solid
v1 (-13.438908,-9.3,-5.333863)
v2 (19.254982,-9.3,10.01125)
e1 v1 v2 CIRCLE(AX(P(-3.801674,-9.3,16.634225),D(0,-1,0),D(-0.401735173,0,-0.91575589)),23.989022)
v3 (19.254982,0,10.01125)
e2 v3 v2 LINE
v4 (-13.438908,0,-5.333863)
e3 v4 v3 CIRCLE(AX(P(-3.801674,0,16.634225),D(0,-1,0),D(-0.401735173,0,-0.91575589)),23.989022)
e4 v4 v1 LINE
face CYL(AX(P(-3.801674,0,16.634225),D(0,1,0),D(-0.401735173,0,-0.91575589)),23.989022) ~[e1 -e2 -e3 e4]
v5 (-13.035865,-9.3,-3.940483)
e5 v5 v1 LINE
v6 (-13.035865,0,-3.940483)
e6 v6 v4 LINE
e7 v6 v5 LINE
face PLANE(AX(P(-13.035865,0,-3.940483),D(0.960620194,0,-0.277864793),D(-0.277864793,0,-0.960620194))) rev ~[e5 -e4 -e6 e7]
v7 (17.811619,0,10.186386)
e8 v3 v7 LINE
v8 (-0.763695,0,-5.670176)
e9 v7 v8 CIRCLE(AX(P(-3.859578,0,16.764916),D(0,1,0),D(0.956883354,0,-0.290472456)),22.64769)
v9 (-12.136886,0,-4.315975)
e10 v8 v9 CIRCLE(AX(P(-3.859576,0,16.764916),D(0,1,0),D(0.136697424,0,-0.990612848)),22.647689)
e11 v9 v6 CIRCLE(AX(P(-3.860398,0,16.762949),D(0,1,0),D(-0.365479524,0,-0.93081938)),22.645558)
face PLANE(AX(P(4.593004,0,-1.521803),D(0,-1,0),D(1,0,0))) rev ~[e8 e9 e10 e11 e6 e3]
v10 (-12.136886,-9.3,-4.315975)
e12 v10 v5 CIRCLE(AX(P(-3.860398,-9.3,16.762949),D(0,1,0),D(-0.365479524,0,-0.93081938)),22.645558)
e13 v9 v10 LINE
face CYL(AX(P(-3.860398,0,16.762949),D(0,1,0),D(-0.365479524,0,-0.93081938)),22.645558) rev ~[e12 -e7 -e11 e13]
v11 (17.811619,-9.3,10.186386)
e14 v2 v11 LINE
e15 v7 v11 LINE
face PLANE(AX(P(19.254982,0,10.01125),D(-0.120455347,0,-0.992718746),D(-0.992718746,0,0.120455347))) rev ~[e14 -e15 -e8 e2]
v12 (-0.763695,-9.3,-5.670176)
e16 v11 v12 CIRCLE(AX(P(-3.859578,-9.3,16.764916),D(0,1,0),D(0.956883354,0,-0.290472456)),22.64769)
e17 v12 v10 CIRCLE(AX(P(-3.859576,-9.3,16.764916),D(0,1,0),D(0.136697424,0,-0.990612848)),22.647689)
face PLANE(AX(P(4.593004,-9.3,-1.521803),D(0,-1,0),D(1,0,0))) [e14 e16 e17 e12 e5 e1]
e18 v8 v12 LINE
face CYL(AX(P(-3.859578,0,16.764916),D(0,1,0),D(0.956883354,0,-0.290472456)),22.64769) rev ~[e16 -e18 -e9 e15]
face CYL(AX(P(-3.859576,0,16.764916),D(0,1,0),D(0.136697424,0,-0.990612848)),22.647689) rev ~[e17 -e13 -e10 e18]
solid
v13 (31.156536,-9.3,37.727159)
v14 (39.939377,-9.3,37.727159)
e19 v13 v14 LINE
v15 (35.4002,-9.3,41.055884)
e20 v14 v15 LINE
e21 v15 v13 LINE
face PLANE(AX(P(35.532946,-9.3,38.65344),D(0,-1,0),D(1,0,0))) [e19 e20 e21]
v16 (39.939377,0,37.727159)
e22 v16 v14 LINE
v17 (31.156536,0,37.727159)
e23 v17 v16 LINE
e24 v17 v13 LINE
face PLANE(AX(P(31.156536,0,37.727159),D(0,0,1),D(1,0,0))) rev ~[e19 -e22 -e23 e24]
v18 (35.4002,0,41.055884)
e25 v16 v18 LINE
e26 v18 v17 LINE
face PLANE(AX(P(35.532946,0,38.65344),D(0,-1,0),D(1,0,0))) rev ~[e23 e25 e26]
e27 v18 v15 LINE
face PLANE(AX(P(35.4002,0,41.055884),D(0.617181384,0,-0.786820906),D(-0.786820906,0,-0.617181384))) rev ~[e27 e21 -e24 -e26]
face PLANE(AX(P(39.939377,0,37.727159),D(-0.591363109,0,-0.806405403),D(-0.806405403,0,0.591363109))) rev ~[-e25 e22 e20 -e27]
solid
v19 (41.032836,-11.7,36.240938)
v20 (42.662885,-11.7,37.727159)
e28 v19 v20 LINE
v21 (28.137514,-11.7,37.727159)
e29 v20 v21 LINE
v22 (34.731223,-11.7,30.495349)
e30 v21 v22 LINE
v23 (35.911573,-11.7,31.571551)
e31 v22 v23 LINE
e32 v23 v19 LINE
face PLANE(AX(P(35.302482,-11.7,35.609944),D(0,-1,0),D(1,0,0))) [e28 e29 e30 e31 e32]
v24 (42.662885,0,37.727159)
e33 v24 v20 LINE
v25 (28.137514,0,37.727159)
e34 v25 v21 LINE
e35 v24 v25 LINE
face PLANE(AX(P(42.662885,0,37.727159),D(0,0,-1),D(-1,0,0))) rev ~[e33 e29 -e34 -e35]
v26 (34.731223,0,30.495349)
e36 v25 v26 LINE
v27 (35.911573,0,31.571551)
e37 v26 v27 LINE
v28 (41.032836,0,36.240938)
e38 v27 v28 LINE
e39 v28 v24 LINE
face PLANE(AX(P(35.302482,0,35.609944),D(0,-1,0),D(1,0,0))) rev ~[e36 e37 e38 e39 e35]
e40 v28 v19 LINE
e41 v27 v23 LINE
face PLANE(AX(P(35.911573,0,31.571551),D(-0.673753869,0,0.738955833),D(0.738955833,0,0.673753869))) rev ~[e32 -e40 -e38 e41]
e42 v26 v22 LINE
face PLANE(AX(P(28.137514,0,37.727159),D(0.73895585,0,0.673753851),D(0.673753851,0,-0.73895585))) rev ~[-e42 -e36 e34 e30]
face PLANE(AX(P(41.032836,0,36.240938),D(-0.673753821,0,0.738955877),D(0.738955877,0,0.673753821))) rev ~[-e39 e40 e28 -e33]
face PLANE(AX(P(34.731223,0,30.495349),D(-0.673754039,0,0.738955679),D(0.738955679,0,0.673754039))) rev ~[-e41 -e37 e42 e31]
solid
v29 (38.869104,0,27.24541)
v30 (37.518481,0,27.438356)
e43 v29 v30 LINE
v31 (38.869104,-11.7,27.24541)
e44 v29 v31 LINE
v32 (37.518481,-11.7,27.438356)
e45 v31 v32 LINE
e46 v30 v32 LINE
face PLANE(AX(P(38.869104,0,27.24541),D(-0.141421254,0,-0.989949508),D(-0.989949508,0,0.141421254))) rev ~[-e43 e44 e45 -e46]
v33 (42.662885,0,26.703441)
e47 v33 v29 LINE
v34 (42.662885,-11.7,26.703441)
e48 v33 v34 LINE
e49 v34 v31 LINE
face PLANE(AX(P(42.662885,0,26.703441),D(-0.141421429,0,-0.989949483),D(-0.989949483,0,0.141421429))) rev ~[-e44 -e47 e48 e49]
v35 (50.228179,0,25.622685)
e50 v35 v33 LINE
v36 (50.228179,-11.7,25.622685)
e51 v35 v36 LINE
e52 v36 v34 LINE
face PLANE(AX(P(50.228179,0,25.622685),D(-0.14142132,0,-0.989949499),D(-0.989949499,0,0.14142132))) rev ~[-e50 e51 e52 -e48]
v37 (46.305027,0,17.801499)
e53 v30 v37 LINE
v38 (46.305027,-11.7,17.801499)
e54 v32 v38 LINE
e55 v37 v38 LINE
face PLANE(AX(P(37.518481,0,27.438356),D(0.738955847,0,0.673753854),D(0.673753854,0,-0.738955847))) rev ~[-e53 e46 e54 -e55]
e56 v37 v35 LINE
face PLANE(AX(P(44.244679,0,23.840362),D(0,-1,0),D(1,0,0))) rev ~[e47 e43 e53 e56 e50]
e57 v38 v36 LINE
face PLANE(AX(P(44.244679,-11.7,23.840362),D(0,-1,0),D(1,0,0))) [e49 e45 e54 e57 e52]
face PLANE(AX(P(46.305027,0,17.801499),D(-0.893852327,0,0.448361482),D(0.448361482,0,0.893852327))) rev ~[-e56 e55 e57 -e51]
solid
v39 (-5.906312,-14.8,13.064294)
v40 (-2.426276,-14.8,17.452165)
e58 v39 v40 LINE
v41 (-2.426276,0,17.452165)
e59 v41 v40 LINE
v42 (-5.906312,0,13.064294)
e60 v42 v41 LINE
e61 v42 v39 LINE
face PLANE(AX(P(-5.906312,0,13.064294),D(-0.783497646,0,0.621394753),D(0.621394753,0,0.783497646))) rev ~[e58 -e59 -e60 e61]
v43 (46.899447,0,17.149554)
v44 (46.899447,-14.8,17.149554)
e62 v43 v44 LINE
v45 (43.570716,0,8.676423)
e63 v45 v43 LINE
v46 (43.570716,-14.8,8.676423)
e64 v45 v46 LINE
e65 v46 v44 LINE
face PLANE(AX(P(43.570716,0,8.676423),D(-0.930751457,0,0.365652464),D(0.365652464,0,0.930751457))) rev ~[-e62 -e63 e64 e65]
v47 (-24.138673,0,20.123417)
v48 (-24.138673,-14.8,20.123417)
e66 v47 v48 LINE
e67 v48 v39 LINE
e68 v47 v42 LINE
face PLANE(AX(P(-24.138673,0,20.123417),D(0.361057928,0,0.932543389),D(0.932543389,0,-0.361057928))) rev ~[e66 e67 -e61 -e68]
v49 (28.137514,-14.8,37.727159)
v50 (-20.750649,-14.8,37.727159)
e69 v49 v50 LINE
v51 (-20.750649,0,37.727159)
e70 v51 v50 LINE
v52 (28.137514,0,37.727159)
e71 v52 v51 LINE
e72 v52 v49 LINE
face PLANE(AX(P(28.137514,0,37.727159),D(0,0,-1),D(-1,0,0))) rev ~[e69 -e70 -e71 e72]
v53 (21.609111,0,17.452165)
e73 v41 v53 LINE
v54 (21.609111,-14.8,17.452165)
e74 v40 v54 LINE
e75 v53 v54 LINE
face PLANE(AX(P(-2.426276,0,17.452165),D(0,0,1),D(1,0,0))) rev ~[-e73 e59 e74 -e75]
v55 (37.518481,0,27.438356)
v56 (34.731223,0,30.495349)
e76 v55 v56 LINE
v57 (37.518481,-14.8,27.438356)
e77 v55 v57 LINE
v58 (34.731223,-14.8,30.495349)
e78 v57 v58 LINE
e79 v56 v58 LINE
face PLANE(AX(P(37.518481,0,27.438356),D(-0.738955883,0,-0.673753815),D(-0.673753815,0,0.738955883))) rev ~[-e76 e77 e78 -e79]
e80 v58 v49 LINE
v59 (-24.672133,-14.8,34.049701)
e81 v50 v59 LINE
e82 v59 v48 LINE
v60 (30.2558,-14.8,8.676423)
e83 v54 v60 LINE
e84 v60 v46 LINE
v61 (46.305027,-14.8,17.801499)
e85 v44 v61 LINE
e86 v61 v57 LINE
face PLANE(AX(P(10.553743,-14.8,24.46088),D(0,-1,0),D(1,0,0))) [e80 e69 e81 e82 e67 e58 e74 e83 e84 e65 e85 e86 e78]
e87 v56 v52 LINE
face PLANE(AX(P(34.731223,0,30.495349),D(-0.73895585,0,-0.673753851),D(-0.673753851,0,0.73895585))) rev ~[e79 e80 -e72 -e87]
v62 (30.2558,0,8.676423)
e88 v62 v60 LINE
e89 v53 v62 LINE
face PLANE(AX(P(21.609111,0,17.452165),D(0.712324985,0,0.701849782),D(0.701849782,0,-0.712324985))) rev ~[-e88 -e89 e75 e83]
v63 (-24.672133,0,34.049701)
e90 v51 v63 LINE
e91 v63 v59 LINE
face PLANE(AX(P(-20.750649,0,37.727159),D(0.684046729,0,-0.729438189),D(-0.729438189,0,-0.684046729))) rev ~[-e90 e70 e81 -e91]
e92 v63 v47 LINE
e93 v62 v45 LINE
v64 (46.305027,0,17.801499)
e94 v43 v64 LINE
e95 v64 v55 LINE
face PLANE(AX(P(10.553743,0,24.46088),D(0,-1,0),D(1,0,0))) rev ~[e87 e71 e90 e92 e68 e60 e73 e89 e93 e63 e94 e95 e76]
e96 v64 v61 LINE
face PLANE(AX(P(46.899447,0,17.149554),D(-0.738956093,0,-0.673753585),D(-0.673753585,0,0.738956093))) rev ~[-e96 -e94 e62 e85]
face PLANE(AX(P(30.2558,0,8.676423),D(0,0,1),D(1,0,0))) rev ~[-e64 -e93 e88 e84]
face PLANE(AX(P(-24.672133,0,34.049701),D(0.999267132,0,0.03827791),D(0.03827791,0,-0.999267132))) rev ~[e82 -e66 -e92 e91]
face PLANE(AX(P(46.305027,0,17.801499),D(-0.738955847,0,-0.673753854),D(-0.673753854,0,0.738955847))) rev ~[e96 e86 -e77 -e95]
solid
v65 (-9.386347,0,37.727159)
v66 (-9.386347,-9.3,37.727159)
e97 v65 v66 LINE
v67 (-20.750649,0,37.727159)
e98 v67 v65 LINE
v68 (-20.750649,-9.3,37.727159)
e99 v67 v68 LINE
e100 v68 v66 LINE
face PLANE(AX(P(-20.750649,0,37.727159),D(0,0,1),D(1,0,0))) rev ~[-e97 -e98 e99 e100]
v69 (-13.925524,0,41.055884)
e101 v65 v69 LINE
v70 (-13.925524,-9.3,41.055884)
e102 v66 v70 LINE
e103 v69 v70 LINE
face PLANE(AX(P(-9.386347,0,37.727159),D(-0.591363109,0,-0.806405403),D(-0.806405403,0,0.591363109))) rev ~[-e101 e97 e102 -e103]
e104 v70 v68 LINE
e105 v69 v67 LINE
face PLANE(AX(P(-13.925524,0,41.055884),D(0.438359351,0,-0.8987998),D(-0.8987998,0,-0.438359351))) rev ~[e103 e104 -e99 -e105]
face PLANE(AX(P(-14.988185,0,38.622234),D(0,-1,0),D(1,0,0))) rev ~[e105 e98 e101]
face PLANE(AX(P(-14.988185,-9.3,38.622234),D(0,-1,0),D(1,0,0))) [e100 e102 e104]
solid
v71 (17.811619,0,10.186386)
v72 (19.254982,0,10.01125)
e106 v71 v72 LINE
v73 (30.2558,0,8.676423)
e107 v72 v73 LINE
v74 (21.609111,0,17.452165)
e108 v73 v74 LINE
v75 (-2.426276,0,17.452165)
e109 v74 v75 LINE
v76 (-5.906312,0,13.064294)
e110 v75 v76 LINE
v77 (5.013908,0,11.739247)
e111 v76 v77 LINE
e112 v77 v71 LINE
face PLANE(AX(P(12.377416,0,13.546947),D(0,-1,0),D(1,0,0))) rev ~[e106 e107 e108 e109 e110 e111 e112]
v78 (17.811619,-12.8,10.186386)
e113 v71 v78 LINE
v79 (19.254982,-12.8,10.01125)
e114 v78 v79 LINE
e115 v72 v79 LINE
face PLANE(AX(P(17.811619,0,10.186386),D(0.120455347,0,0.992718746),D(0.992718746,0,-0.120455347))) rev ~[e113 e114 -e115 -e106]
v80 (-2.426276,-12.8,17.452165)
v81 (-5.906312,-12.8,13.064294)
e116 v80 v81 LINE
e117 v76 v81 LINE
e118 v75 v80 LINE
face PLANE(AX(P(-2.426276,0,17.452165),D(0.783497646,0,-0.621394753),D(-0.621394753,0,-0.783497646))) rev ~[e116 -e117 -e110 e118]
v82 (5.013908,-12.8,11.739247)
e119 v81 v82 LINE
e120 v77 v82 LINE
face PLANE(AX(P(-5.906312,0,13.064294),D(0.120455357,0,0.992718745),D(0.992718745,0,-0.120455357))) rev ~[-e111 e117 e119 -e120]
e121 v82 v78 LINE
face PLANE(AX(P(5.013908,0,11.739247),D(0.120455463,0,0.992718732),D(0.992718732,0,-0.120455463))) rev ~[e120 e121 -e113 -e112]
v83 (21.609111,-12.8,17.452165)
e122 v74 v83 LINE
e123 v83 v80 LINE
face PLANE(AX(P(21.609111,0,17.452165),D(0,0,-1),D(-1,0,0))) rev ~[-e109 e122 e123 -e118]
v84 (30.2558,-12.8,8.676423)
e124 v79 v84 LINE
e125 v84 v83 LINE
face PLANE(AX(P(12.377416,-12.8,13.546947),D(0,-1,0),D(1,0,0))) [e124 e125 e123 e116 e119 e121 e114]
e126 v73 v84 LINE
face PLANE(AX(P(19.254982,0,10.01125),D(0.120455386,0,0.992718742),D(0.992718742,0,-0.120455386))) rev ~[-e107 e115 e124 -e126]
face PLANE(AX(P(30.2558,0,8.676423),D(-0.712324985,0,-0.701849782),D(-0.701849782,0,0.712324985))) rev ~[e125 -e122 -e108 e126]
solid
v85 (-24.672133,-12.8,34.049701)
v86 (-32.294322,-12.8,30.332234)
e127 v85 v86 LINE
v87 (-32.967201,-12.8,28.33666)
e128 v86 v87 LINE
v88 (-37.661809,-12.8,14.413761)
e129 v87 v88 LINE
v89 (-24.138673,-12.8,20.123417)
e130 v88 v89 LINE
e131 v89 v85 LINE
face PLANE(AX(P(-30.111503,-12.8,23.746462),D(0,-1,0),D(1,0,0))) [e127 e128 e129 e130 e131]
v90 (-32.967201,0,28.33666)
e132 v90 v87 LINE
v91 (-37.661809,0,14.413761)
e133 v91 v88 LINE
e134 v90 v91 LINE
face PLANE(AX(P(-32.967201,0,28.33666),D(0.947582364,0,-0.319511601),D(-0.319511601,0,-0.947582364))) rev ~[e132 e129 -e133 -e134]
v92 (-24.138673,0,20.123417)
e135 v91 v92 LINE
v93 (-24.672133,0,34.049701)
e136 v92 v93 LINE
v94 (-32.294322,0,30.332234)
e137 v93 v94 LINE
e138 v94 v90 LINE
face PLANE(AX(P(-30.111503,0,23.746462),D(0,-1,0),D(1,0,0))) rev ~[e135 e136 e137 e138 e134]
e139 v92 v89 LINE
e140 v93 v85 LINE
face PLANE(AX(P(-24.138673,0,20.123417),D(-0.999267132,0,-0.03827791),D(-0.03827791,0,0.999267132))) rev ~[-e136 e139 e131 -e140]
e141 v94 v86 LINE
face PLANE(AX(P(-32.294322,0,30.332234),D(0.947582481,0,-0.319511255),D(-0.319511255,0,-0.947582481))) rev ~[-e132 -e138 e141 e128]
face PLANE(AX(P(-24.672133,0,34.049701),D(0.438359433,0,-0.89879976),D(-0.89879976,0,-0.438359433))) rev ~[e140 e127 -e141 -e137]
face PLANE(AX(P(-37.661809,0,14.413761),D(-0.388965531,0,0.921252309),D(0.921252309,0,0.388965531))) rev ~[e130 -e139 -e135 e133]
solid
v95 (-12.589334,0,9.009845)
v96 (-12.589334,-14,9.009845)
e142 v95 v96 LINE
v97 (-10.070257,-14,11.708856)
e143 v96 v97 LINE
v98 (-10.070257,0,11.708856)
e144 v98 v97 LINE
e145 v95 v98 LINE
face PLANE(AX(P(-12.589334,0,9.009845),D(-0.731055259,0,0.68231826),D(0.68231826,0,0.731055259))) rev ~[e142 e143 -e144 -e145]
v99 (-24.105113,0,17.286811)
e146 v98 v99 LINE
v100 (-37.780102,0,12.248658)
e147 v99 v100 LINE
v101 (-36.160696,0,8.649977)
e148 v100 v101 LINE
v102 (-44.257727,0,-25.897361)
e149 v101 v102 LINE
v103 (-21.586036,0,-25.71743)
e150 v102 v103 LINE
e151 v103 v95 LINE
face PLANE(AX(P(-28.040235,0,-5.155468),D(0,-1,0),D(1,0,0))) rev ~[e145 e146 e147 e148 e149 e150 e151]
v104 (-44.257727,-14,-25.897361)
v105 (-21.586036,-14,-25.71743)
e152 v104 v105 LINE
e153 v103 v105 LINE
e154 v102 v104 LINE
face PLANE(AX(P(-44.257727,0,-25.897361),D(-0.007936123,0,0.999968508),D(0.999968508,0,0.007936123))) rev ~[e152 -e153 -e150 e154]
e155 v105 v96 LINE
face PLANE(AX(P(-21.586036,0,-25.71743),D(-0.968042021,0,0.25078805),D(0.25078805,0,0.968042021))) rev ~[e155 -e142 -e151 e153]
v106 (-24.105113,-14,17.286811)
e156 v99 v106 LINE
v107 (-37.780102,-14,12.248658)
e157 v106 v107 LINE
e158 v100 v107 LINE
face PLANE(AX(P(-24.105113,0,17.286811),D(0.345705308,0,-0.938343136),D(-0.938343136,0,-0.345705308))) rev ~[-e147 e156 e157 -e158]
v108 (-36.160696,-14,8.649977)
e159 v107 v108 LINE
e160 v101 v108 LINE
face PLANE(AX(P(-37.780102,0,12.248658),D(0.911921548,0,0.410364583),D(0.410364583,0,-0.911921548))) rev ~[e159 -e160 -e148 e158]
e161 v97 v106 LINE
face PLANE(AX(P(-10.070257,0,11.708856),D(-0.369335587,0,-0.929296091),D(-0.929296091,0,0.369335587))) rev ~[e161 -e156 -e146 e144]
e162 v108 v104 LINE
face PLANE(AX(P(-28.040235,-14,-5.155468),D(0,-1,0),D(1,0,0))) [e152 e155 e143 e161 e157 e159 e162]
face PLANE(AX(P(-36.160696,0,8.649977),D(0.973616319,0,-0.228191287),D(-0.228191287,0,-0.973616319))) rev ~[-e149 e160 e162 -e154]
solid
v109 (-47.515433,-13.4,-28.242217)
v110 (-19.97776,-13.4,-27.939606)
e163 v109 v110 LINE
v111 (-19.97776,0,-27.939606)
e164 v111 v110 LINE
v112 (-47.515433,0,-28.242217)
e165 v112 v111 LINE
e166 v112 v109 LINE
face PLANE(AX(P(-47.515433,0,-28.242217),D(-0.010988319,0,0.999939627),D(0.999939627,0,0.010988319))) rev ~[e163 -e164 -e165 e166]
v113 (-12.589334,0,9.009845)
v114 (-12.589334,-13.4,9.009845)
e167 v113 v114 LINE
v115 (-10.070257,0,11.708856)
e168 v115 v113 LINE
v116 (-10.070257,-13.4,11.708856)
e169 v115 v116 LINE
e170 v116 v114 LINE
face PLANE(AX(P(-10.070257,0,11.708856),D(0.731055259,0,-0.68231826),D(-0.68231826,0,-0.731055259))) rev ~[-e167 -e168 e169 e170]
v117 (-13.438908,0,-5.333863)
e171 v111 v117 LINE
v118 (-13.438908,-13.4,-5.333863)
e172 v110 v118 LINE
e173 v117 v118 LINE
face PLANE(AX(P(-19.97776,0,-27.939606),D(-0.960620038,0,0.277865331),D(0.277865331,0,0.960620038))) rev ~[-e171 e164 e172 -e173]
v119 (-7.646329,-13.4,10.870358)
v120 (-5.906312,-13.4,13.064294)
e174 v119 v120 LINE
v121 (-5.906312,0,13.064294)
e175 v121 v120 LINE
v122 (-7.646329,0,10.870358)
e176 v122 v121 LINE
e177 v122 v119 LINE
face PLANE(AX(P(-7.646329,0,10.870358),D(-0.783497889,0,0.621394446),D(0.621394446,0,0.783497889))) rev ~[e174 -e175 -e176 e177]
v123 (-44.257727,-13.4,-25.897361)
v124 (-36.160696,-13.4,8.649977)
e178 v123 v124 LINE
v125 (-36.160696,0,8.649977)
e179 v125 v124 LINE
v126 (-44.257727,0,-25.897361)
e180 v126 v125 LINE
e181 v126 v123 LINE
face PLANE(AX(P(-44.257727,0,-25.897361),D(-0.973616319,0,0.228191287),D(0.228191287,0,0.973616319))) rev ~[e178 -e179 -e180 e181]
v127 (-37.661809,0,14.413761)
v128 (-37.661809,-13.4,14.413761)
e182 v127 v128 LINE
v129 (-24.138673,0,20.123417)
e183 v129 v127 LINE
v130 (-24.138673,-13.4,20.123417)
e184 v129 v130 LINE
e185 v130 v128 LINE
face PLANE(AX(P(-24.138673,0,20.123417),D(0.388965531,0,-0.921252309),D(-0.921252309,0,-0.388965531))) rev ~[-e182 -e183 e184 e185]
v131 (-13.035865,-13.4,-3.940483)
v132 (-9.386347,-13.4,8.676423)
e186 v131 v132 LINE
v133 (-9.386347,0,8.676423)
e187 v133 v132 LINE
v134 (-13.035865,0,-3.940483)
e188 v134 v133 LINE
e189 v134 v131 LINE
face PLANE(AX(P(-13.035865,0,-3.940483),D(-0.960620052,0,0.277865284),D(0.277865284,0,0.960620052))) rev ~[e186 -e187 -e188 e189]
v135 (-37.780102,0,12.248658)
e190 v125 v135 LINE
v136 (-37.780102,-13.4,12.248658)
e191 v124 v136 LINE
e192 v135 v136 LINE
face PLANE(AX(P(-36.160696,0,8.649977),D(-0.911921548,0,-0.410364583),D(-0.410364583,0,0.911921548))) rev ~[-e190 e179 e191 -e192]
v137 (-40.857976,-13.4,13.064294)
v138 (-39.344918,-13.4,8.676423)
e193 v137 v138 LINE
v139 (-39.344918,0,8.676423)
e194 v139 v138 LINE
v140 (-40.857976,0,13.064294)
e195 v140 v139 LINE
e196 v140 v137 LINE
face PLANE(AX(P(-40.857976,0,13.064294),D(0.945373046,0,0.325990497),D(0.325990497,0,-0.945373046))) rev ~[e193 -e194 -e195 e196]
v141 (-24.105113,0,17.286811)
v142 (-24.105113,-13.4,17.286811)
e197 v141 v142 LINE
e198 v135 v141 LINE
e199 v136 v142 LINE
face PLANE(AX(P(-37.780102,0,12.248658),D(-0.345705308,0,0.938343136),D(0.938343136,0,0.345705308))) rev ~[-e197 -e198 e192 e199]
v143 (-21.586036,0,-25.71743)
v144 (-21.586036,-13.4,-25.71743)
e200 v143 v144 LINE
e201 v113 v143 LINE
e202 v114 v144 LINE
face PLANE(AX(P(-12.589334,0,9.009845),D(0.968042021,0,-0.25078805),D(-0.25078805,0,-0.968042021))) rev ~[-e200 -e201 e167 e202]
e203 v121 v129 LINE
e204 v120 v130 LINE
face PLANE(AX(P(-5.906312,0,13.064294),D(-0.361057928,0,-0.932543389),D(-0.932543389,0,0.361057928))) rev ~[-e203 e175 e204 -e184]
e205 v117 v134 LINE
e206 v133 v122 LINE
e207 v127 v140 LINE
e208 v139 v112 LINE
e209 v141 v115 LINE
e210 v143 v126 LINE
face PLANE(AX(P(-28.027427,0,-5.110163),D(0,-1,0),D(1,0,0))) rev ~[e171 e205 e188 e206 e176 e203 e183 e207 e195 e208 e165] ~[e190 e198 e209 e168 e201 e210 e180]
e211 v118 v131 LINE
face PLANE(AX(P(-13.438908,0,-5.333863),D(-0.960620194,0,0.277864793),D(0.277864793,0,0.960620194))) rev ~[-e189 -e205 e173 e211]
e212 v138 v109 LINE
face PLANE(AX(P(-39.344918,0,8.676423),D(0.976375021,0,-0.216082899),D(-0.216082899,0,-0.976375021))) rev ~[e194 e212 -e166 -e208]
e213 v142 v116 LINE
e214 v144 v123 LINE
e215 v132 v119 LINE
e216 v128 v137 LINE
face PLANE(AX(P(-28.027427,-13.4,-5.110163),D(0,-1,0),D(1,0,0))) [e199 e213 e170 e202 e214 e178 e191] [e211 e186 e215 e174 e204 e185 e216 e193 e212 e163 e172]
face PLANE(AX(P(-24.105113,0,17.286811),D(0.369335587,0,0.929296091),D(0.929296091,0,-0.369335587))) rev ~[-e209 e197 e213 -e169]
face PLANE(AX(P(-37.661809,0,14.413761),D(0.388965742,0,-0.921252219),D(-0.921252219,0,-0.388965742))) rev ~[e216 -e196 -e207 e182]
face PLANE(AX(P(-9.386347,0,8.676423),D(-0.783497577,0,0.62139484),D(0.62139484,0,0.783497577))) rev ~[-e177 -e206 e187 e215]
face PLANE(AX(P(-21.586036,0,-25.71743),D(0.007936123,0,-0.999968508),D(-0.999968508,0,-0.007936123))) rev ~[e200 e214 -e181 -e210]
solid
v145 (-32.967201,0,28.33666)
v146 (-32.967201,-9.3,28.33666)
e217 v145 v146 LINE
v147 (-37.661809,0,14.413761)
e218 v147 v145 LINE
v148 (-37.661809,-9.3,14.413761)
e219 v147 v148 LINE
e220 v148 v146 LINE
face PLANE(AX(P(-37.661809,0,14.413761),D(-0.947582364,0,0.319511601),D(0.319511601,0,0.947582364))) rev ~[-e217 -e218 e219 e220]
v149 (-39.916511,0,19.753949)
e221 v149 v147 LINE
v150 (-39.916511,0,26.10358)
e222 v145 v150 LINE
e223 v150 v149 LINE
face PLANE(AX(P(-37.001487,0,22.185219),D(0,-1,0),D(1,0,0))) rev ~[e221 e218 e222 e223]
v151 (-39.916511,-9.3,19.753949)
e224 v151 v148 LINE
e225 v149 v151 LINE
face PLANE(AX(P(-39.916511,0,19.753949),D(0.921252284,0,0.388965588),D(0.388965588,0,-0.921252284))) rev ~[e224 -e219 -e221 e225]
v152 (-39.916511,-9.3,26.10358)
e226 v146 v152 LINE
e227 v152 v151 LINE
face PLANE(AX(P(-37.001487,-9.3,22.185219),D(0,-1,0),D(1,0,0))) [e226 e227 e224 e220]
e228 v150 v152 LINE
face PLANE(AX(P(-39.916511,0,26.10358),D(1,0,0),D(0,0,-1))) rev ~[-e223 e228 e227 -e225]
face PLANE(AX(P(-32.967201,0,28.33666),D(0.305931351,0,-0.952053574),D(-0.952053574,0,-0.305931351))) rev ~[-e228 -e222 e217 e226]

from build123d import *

# Parameters (mm, degrees)
F1_DEPTH = 14.8
F2_DEPTH = 12.8
F3_DEPTH = 14
F4_DEPTH = 13.4
F5_DEPTH = 9.3
F6_DEPTH = 11.7


with BuildPart() as f1:
    # F0 (on Front) → F1 (new body)
    with BuildSketch(Plane.XZ):
        Polygon((21.609111, 17.452165), (30.2558, 8.676423), (43.570716, 8.676423), (46.899447, 17.149554), (46.305027, 17.801499), (37.518481, 27.438356), (34.731223, 30.495349), (28.137514, 37.727159), (-9.386347, 37.727159), (-20.750649, 37.727159), (-24.672133, 34.049701), (-24.138673, 20.123417), (-5.906312, 13.064294), (-2.426276, 17.452165), align=None)
    extrude(amount=F1_DEPTH)


with BuildPart() as f2:
    # F0 (on Front) → F2 (new body)
    with BuildSketch(Plane.XZ):
        Polygon((-32.967201, 28.33666), (-37.661809, 14.413761), (-24.138673, 20.123417), (-24.672133, 34.049701), (-32.294322, 30.332234), align=None)
        Polygon((17.811619, 10.186386), (19.254982, 10.01125), (30.2558, 8.676423), (21.609111, 17.452165), (-2.426276, 17.452165), (-5.906312, 13.064294), (5.013908, 11.739247), align=None)
    extrude(amount=F2_DEPTH)


with BuildPart() as f3:
    # F0 (on Front) → F3 (new body)
    with BuildSketch(Plane.XZ):
        Polygon((-10.070257, 11.708856), (-24.105113, 17.286811), (-37.780102, 12.248658), (-36.160696, 8.649977), (-44.257727, -25.897361), (-21.586036, -25.71743), (-12.589334, 9.009845), align=None)
    extrude(amount=F3_DEPTH)


with BuildPart() as f4:
    # F0 (on Front) → F4 (new body)
    with BuildSketch(Plane.XZ):
        Polygon((-47.515433, -28.242217), (-19.97776, -27.939606), (-13.438908, -5.333863), (-13.035865, -3.940483), (-9.386347, 8.676423), (-7.646329, 10.870358), (-5.906312, 13.064294), (-24.138673, 20.123417), (-37.661809, 14.413761), (-40.857976, 13.064294), (-39.344918, 8.676423), align=None)
        Polygon((-37.780102, 12.248658), (-24.105113, 17.286811), (-10.070257, 11.708856), (-12.589334, 9.009845), (-21.586036, -25.71743), (-44.257727, -25.897361), (-36.160696, 8.649977), align=None, mode=Mode.SUBTRACT)
    extrude(amount=F4_DEPTH)


with BuildPart() as f5:
    # F0 (on Front) → F5 (new body)
    with BuildSketch(Plane.XZ):
        Polygon((-39.916511, 19.753949), (-37.661809, 14.413761), (-32.967201, 28.33666), (-39.916511, 26.10358), align=None)
        Polygon((-13.925524, 41.055884), (-20.750649, 37.727159), (-9.386347, 37.727159), align=None)
        Polygon((35.4002, 41.055884), (31.156536, 37.727159), (39.939377, 37.727159), align=None)
        with BuildLine():
            Line((-13.035865, -3.940483), (-13.438908, -5.333863))
            ThreePointArc((-13.438908, -5.333863), (6.390889, -5.081779), (19.254982, 10.01125))
            Line((19.254982, 10.01125), (17.811619, 10.186386))
            ThreePointArc((17.811619, 10.186386), (10.844493, -0.460302), (-0.763695, -5.670176))
            ThreePointArc((-0.763695, -5.670176), (-6.537311, -5.723916), (-12.136886, -4.315975))
            ThreePointArc((-12.136886, -4.315975), (-12.588395, -4.133064), (-13.035865, -3.940483))
        make_face()
    extrude(amount=F5_DEPTH)


with BuildPart() as f6:
    # F0 (on Front) → F6 (new body)
    with BuildSketch(Plane.XZ):
        Polygon((28.137514, 37.727159), (34.731223, 30.495349), (35.911573, 31.571551), (41.032836, 36.240938), (42.662885, 37.727159), (39.939377, 37.727159), (31.156536, 37.727159), align=None)
        Polygon((37.518481, 27.438356), (46.305027, 17.801499), (50.228179, 25.622685), (42.662885, 26.703441), (38.869104, 27.24541), align=None)
    extrude(amount=F6_DEPTH)


solid = Compound([f1.part, f2.part, f3.part, f4.part, f5.part, f6.part])
